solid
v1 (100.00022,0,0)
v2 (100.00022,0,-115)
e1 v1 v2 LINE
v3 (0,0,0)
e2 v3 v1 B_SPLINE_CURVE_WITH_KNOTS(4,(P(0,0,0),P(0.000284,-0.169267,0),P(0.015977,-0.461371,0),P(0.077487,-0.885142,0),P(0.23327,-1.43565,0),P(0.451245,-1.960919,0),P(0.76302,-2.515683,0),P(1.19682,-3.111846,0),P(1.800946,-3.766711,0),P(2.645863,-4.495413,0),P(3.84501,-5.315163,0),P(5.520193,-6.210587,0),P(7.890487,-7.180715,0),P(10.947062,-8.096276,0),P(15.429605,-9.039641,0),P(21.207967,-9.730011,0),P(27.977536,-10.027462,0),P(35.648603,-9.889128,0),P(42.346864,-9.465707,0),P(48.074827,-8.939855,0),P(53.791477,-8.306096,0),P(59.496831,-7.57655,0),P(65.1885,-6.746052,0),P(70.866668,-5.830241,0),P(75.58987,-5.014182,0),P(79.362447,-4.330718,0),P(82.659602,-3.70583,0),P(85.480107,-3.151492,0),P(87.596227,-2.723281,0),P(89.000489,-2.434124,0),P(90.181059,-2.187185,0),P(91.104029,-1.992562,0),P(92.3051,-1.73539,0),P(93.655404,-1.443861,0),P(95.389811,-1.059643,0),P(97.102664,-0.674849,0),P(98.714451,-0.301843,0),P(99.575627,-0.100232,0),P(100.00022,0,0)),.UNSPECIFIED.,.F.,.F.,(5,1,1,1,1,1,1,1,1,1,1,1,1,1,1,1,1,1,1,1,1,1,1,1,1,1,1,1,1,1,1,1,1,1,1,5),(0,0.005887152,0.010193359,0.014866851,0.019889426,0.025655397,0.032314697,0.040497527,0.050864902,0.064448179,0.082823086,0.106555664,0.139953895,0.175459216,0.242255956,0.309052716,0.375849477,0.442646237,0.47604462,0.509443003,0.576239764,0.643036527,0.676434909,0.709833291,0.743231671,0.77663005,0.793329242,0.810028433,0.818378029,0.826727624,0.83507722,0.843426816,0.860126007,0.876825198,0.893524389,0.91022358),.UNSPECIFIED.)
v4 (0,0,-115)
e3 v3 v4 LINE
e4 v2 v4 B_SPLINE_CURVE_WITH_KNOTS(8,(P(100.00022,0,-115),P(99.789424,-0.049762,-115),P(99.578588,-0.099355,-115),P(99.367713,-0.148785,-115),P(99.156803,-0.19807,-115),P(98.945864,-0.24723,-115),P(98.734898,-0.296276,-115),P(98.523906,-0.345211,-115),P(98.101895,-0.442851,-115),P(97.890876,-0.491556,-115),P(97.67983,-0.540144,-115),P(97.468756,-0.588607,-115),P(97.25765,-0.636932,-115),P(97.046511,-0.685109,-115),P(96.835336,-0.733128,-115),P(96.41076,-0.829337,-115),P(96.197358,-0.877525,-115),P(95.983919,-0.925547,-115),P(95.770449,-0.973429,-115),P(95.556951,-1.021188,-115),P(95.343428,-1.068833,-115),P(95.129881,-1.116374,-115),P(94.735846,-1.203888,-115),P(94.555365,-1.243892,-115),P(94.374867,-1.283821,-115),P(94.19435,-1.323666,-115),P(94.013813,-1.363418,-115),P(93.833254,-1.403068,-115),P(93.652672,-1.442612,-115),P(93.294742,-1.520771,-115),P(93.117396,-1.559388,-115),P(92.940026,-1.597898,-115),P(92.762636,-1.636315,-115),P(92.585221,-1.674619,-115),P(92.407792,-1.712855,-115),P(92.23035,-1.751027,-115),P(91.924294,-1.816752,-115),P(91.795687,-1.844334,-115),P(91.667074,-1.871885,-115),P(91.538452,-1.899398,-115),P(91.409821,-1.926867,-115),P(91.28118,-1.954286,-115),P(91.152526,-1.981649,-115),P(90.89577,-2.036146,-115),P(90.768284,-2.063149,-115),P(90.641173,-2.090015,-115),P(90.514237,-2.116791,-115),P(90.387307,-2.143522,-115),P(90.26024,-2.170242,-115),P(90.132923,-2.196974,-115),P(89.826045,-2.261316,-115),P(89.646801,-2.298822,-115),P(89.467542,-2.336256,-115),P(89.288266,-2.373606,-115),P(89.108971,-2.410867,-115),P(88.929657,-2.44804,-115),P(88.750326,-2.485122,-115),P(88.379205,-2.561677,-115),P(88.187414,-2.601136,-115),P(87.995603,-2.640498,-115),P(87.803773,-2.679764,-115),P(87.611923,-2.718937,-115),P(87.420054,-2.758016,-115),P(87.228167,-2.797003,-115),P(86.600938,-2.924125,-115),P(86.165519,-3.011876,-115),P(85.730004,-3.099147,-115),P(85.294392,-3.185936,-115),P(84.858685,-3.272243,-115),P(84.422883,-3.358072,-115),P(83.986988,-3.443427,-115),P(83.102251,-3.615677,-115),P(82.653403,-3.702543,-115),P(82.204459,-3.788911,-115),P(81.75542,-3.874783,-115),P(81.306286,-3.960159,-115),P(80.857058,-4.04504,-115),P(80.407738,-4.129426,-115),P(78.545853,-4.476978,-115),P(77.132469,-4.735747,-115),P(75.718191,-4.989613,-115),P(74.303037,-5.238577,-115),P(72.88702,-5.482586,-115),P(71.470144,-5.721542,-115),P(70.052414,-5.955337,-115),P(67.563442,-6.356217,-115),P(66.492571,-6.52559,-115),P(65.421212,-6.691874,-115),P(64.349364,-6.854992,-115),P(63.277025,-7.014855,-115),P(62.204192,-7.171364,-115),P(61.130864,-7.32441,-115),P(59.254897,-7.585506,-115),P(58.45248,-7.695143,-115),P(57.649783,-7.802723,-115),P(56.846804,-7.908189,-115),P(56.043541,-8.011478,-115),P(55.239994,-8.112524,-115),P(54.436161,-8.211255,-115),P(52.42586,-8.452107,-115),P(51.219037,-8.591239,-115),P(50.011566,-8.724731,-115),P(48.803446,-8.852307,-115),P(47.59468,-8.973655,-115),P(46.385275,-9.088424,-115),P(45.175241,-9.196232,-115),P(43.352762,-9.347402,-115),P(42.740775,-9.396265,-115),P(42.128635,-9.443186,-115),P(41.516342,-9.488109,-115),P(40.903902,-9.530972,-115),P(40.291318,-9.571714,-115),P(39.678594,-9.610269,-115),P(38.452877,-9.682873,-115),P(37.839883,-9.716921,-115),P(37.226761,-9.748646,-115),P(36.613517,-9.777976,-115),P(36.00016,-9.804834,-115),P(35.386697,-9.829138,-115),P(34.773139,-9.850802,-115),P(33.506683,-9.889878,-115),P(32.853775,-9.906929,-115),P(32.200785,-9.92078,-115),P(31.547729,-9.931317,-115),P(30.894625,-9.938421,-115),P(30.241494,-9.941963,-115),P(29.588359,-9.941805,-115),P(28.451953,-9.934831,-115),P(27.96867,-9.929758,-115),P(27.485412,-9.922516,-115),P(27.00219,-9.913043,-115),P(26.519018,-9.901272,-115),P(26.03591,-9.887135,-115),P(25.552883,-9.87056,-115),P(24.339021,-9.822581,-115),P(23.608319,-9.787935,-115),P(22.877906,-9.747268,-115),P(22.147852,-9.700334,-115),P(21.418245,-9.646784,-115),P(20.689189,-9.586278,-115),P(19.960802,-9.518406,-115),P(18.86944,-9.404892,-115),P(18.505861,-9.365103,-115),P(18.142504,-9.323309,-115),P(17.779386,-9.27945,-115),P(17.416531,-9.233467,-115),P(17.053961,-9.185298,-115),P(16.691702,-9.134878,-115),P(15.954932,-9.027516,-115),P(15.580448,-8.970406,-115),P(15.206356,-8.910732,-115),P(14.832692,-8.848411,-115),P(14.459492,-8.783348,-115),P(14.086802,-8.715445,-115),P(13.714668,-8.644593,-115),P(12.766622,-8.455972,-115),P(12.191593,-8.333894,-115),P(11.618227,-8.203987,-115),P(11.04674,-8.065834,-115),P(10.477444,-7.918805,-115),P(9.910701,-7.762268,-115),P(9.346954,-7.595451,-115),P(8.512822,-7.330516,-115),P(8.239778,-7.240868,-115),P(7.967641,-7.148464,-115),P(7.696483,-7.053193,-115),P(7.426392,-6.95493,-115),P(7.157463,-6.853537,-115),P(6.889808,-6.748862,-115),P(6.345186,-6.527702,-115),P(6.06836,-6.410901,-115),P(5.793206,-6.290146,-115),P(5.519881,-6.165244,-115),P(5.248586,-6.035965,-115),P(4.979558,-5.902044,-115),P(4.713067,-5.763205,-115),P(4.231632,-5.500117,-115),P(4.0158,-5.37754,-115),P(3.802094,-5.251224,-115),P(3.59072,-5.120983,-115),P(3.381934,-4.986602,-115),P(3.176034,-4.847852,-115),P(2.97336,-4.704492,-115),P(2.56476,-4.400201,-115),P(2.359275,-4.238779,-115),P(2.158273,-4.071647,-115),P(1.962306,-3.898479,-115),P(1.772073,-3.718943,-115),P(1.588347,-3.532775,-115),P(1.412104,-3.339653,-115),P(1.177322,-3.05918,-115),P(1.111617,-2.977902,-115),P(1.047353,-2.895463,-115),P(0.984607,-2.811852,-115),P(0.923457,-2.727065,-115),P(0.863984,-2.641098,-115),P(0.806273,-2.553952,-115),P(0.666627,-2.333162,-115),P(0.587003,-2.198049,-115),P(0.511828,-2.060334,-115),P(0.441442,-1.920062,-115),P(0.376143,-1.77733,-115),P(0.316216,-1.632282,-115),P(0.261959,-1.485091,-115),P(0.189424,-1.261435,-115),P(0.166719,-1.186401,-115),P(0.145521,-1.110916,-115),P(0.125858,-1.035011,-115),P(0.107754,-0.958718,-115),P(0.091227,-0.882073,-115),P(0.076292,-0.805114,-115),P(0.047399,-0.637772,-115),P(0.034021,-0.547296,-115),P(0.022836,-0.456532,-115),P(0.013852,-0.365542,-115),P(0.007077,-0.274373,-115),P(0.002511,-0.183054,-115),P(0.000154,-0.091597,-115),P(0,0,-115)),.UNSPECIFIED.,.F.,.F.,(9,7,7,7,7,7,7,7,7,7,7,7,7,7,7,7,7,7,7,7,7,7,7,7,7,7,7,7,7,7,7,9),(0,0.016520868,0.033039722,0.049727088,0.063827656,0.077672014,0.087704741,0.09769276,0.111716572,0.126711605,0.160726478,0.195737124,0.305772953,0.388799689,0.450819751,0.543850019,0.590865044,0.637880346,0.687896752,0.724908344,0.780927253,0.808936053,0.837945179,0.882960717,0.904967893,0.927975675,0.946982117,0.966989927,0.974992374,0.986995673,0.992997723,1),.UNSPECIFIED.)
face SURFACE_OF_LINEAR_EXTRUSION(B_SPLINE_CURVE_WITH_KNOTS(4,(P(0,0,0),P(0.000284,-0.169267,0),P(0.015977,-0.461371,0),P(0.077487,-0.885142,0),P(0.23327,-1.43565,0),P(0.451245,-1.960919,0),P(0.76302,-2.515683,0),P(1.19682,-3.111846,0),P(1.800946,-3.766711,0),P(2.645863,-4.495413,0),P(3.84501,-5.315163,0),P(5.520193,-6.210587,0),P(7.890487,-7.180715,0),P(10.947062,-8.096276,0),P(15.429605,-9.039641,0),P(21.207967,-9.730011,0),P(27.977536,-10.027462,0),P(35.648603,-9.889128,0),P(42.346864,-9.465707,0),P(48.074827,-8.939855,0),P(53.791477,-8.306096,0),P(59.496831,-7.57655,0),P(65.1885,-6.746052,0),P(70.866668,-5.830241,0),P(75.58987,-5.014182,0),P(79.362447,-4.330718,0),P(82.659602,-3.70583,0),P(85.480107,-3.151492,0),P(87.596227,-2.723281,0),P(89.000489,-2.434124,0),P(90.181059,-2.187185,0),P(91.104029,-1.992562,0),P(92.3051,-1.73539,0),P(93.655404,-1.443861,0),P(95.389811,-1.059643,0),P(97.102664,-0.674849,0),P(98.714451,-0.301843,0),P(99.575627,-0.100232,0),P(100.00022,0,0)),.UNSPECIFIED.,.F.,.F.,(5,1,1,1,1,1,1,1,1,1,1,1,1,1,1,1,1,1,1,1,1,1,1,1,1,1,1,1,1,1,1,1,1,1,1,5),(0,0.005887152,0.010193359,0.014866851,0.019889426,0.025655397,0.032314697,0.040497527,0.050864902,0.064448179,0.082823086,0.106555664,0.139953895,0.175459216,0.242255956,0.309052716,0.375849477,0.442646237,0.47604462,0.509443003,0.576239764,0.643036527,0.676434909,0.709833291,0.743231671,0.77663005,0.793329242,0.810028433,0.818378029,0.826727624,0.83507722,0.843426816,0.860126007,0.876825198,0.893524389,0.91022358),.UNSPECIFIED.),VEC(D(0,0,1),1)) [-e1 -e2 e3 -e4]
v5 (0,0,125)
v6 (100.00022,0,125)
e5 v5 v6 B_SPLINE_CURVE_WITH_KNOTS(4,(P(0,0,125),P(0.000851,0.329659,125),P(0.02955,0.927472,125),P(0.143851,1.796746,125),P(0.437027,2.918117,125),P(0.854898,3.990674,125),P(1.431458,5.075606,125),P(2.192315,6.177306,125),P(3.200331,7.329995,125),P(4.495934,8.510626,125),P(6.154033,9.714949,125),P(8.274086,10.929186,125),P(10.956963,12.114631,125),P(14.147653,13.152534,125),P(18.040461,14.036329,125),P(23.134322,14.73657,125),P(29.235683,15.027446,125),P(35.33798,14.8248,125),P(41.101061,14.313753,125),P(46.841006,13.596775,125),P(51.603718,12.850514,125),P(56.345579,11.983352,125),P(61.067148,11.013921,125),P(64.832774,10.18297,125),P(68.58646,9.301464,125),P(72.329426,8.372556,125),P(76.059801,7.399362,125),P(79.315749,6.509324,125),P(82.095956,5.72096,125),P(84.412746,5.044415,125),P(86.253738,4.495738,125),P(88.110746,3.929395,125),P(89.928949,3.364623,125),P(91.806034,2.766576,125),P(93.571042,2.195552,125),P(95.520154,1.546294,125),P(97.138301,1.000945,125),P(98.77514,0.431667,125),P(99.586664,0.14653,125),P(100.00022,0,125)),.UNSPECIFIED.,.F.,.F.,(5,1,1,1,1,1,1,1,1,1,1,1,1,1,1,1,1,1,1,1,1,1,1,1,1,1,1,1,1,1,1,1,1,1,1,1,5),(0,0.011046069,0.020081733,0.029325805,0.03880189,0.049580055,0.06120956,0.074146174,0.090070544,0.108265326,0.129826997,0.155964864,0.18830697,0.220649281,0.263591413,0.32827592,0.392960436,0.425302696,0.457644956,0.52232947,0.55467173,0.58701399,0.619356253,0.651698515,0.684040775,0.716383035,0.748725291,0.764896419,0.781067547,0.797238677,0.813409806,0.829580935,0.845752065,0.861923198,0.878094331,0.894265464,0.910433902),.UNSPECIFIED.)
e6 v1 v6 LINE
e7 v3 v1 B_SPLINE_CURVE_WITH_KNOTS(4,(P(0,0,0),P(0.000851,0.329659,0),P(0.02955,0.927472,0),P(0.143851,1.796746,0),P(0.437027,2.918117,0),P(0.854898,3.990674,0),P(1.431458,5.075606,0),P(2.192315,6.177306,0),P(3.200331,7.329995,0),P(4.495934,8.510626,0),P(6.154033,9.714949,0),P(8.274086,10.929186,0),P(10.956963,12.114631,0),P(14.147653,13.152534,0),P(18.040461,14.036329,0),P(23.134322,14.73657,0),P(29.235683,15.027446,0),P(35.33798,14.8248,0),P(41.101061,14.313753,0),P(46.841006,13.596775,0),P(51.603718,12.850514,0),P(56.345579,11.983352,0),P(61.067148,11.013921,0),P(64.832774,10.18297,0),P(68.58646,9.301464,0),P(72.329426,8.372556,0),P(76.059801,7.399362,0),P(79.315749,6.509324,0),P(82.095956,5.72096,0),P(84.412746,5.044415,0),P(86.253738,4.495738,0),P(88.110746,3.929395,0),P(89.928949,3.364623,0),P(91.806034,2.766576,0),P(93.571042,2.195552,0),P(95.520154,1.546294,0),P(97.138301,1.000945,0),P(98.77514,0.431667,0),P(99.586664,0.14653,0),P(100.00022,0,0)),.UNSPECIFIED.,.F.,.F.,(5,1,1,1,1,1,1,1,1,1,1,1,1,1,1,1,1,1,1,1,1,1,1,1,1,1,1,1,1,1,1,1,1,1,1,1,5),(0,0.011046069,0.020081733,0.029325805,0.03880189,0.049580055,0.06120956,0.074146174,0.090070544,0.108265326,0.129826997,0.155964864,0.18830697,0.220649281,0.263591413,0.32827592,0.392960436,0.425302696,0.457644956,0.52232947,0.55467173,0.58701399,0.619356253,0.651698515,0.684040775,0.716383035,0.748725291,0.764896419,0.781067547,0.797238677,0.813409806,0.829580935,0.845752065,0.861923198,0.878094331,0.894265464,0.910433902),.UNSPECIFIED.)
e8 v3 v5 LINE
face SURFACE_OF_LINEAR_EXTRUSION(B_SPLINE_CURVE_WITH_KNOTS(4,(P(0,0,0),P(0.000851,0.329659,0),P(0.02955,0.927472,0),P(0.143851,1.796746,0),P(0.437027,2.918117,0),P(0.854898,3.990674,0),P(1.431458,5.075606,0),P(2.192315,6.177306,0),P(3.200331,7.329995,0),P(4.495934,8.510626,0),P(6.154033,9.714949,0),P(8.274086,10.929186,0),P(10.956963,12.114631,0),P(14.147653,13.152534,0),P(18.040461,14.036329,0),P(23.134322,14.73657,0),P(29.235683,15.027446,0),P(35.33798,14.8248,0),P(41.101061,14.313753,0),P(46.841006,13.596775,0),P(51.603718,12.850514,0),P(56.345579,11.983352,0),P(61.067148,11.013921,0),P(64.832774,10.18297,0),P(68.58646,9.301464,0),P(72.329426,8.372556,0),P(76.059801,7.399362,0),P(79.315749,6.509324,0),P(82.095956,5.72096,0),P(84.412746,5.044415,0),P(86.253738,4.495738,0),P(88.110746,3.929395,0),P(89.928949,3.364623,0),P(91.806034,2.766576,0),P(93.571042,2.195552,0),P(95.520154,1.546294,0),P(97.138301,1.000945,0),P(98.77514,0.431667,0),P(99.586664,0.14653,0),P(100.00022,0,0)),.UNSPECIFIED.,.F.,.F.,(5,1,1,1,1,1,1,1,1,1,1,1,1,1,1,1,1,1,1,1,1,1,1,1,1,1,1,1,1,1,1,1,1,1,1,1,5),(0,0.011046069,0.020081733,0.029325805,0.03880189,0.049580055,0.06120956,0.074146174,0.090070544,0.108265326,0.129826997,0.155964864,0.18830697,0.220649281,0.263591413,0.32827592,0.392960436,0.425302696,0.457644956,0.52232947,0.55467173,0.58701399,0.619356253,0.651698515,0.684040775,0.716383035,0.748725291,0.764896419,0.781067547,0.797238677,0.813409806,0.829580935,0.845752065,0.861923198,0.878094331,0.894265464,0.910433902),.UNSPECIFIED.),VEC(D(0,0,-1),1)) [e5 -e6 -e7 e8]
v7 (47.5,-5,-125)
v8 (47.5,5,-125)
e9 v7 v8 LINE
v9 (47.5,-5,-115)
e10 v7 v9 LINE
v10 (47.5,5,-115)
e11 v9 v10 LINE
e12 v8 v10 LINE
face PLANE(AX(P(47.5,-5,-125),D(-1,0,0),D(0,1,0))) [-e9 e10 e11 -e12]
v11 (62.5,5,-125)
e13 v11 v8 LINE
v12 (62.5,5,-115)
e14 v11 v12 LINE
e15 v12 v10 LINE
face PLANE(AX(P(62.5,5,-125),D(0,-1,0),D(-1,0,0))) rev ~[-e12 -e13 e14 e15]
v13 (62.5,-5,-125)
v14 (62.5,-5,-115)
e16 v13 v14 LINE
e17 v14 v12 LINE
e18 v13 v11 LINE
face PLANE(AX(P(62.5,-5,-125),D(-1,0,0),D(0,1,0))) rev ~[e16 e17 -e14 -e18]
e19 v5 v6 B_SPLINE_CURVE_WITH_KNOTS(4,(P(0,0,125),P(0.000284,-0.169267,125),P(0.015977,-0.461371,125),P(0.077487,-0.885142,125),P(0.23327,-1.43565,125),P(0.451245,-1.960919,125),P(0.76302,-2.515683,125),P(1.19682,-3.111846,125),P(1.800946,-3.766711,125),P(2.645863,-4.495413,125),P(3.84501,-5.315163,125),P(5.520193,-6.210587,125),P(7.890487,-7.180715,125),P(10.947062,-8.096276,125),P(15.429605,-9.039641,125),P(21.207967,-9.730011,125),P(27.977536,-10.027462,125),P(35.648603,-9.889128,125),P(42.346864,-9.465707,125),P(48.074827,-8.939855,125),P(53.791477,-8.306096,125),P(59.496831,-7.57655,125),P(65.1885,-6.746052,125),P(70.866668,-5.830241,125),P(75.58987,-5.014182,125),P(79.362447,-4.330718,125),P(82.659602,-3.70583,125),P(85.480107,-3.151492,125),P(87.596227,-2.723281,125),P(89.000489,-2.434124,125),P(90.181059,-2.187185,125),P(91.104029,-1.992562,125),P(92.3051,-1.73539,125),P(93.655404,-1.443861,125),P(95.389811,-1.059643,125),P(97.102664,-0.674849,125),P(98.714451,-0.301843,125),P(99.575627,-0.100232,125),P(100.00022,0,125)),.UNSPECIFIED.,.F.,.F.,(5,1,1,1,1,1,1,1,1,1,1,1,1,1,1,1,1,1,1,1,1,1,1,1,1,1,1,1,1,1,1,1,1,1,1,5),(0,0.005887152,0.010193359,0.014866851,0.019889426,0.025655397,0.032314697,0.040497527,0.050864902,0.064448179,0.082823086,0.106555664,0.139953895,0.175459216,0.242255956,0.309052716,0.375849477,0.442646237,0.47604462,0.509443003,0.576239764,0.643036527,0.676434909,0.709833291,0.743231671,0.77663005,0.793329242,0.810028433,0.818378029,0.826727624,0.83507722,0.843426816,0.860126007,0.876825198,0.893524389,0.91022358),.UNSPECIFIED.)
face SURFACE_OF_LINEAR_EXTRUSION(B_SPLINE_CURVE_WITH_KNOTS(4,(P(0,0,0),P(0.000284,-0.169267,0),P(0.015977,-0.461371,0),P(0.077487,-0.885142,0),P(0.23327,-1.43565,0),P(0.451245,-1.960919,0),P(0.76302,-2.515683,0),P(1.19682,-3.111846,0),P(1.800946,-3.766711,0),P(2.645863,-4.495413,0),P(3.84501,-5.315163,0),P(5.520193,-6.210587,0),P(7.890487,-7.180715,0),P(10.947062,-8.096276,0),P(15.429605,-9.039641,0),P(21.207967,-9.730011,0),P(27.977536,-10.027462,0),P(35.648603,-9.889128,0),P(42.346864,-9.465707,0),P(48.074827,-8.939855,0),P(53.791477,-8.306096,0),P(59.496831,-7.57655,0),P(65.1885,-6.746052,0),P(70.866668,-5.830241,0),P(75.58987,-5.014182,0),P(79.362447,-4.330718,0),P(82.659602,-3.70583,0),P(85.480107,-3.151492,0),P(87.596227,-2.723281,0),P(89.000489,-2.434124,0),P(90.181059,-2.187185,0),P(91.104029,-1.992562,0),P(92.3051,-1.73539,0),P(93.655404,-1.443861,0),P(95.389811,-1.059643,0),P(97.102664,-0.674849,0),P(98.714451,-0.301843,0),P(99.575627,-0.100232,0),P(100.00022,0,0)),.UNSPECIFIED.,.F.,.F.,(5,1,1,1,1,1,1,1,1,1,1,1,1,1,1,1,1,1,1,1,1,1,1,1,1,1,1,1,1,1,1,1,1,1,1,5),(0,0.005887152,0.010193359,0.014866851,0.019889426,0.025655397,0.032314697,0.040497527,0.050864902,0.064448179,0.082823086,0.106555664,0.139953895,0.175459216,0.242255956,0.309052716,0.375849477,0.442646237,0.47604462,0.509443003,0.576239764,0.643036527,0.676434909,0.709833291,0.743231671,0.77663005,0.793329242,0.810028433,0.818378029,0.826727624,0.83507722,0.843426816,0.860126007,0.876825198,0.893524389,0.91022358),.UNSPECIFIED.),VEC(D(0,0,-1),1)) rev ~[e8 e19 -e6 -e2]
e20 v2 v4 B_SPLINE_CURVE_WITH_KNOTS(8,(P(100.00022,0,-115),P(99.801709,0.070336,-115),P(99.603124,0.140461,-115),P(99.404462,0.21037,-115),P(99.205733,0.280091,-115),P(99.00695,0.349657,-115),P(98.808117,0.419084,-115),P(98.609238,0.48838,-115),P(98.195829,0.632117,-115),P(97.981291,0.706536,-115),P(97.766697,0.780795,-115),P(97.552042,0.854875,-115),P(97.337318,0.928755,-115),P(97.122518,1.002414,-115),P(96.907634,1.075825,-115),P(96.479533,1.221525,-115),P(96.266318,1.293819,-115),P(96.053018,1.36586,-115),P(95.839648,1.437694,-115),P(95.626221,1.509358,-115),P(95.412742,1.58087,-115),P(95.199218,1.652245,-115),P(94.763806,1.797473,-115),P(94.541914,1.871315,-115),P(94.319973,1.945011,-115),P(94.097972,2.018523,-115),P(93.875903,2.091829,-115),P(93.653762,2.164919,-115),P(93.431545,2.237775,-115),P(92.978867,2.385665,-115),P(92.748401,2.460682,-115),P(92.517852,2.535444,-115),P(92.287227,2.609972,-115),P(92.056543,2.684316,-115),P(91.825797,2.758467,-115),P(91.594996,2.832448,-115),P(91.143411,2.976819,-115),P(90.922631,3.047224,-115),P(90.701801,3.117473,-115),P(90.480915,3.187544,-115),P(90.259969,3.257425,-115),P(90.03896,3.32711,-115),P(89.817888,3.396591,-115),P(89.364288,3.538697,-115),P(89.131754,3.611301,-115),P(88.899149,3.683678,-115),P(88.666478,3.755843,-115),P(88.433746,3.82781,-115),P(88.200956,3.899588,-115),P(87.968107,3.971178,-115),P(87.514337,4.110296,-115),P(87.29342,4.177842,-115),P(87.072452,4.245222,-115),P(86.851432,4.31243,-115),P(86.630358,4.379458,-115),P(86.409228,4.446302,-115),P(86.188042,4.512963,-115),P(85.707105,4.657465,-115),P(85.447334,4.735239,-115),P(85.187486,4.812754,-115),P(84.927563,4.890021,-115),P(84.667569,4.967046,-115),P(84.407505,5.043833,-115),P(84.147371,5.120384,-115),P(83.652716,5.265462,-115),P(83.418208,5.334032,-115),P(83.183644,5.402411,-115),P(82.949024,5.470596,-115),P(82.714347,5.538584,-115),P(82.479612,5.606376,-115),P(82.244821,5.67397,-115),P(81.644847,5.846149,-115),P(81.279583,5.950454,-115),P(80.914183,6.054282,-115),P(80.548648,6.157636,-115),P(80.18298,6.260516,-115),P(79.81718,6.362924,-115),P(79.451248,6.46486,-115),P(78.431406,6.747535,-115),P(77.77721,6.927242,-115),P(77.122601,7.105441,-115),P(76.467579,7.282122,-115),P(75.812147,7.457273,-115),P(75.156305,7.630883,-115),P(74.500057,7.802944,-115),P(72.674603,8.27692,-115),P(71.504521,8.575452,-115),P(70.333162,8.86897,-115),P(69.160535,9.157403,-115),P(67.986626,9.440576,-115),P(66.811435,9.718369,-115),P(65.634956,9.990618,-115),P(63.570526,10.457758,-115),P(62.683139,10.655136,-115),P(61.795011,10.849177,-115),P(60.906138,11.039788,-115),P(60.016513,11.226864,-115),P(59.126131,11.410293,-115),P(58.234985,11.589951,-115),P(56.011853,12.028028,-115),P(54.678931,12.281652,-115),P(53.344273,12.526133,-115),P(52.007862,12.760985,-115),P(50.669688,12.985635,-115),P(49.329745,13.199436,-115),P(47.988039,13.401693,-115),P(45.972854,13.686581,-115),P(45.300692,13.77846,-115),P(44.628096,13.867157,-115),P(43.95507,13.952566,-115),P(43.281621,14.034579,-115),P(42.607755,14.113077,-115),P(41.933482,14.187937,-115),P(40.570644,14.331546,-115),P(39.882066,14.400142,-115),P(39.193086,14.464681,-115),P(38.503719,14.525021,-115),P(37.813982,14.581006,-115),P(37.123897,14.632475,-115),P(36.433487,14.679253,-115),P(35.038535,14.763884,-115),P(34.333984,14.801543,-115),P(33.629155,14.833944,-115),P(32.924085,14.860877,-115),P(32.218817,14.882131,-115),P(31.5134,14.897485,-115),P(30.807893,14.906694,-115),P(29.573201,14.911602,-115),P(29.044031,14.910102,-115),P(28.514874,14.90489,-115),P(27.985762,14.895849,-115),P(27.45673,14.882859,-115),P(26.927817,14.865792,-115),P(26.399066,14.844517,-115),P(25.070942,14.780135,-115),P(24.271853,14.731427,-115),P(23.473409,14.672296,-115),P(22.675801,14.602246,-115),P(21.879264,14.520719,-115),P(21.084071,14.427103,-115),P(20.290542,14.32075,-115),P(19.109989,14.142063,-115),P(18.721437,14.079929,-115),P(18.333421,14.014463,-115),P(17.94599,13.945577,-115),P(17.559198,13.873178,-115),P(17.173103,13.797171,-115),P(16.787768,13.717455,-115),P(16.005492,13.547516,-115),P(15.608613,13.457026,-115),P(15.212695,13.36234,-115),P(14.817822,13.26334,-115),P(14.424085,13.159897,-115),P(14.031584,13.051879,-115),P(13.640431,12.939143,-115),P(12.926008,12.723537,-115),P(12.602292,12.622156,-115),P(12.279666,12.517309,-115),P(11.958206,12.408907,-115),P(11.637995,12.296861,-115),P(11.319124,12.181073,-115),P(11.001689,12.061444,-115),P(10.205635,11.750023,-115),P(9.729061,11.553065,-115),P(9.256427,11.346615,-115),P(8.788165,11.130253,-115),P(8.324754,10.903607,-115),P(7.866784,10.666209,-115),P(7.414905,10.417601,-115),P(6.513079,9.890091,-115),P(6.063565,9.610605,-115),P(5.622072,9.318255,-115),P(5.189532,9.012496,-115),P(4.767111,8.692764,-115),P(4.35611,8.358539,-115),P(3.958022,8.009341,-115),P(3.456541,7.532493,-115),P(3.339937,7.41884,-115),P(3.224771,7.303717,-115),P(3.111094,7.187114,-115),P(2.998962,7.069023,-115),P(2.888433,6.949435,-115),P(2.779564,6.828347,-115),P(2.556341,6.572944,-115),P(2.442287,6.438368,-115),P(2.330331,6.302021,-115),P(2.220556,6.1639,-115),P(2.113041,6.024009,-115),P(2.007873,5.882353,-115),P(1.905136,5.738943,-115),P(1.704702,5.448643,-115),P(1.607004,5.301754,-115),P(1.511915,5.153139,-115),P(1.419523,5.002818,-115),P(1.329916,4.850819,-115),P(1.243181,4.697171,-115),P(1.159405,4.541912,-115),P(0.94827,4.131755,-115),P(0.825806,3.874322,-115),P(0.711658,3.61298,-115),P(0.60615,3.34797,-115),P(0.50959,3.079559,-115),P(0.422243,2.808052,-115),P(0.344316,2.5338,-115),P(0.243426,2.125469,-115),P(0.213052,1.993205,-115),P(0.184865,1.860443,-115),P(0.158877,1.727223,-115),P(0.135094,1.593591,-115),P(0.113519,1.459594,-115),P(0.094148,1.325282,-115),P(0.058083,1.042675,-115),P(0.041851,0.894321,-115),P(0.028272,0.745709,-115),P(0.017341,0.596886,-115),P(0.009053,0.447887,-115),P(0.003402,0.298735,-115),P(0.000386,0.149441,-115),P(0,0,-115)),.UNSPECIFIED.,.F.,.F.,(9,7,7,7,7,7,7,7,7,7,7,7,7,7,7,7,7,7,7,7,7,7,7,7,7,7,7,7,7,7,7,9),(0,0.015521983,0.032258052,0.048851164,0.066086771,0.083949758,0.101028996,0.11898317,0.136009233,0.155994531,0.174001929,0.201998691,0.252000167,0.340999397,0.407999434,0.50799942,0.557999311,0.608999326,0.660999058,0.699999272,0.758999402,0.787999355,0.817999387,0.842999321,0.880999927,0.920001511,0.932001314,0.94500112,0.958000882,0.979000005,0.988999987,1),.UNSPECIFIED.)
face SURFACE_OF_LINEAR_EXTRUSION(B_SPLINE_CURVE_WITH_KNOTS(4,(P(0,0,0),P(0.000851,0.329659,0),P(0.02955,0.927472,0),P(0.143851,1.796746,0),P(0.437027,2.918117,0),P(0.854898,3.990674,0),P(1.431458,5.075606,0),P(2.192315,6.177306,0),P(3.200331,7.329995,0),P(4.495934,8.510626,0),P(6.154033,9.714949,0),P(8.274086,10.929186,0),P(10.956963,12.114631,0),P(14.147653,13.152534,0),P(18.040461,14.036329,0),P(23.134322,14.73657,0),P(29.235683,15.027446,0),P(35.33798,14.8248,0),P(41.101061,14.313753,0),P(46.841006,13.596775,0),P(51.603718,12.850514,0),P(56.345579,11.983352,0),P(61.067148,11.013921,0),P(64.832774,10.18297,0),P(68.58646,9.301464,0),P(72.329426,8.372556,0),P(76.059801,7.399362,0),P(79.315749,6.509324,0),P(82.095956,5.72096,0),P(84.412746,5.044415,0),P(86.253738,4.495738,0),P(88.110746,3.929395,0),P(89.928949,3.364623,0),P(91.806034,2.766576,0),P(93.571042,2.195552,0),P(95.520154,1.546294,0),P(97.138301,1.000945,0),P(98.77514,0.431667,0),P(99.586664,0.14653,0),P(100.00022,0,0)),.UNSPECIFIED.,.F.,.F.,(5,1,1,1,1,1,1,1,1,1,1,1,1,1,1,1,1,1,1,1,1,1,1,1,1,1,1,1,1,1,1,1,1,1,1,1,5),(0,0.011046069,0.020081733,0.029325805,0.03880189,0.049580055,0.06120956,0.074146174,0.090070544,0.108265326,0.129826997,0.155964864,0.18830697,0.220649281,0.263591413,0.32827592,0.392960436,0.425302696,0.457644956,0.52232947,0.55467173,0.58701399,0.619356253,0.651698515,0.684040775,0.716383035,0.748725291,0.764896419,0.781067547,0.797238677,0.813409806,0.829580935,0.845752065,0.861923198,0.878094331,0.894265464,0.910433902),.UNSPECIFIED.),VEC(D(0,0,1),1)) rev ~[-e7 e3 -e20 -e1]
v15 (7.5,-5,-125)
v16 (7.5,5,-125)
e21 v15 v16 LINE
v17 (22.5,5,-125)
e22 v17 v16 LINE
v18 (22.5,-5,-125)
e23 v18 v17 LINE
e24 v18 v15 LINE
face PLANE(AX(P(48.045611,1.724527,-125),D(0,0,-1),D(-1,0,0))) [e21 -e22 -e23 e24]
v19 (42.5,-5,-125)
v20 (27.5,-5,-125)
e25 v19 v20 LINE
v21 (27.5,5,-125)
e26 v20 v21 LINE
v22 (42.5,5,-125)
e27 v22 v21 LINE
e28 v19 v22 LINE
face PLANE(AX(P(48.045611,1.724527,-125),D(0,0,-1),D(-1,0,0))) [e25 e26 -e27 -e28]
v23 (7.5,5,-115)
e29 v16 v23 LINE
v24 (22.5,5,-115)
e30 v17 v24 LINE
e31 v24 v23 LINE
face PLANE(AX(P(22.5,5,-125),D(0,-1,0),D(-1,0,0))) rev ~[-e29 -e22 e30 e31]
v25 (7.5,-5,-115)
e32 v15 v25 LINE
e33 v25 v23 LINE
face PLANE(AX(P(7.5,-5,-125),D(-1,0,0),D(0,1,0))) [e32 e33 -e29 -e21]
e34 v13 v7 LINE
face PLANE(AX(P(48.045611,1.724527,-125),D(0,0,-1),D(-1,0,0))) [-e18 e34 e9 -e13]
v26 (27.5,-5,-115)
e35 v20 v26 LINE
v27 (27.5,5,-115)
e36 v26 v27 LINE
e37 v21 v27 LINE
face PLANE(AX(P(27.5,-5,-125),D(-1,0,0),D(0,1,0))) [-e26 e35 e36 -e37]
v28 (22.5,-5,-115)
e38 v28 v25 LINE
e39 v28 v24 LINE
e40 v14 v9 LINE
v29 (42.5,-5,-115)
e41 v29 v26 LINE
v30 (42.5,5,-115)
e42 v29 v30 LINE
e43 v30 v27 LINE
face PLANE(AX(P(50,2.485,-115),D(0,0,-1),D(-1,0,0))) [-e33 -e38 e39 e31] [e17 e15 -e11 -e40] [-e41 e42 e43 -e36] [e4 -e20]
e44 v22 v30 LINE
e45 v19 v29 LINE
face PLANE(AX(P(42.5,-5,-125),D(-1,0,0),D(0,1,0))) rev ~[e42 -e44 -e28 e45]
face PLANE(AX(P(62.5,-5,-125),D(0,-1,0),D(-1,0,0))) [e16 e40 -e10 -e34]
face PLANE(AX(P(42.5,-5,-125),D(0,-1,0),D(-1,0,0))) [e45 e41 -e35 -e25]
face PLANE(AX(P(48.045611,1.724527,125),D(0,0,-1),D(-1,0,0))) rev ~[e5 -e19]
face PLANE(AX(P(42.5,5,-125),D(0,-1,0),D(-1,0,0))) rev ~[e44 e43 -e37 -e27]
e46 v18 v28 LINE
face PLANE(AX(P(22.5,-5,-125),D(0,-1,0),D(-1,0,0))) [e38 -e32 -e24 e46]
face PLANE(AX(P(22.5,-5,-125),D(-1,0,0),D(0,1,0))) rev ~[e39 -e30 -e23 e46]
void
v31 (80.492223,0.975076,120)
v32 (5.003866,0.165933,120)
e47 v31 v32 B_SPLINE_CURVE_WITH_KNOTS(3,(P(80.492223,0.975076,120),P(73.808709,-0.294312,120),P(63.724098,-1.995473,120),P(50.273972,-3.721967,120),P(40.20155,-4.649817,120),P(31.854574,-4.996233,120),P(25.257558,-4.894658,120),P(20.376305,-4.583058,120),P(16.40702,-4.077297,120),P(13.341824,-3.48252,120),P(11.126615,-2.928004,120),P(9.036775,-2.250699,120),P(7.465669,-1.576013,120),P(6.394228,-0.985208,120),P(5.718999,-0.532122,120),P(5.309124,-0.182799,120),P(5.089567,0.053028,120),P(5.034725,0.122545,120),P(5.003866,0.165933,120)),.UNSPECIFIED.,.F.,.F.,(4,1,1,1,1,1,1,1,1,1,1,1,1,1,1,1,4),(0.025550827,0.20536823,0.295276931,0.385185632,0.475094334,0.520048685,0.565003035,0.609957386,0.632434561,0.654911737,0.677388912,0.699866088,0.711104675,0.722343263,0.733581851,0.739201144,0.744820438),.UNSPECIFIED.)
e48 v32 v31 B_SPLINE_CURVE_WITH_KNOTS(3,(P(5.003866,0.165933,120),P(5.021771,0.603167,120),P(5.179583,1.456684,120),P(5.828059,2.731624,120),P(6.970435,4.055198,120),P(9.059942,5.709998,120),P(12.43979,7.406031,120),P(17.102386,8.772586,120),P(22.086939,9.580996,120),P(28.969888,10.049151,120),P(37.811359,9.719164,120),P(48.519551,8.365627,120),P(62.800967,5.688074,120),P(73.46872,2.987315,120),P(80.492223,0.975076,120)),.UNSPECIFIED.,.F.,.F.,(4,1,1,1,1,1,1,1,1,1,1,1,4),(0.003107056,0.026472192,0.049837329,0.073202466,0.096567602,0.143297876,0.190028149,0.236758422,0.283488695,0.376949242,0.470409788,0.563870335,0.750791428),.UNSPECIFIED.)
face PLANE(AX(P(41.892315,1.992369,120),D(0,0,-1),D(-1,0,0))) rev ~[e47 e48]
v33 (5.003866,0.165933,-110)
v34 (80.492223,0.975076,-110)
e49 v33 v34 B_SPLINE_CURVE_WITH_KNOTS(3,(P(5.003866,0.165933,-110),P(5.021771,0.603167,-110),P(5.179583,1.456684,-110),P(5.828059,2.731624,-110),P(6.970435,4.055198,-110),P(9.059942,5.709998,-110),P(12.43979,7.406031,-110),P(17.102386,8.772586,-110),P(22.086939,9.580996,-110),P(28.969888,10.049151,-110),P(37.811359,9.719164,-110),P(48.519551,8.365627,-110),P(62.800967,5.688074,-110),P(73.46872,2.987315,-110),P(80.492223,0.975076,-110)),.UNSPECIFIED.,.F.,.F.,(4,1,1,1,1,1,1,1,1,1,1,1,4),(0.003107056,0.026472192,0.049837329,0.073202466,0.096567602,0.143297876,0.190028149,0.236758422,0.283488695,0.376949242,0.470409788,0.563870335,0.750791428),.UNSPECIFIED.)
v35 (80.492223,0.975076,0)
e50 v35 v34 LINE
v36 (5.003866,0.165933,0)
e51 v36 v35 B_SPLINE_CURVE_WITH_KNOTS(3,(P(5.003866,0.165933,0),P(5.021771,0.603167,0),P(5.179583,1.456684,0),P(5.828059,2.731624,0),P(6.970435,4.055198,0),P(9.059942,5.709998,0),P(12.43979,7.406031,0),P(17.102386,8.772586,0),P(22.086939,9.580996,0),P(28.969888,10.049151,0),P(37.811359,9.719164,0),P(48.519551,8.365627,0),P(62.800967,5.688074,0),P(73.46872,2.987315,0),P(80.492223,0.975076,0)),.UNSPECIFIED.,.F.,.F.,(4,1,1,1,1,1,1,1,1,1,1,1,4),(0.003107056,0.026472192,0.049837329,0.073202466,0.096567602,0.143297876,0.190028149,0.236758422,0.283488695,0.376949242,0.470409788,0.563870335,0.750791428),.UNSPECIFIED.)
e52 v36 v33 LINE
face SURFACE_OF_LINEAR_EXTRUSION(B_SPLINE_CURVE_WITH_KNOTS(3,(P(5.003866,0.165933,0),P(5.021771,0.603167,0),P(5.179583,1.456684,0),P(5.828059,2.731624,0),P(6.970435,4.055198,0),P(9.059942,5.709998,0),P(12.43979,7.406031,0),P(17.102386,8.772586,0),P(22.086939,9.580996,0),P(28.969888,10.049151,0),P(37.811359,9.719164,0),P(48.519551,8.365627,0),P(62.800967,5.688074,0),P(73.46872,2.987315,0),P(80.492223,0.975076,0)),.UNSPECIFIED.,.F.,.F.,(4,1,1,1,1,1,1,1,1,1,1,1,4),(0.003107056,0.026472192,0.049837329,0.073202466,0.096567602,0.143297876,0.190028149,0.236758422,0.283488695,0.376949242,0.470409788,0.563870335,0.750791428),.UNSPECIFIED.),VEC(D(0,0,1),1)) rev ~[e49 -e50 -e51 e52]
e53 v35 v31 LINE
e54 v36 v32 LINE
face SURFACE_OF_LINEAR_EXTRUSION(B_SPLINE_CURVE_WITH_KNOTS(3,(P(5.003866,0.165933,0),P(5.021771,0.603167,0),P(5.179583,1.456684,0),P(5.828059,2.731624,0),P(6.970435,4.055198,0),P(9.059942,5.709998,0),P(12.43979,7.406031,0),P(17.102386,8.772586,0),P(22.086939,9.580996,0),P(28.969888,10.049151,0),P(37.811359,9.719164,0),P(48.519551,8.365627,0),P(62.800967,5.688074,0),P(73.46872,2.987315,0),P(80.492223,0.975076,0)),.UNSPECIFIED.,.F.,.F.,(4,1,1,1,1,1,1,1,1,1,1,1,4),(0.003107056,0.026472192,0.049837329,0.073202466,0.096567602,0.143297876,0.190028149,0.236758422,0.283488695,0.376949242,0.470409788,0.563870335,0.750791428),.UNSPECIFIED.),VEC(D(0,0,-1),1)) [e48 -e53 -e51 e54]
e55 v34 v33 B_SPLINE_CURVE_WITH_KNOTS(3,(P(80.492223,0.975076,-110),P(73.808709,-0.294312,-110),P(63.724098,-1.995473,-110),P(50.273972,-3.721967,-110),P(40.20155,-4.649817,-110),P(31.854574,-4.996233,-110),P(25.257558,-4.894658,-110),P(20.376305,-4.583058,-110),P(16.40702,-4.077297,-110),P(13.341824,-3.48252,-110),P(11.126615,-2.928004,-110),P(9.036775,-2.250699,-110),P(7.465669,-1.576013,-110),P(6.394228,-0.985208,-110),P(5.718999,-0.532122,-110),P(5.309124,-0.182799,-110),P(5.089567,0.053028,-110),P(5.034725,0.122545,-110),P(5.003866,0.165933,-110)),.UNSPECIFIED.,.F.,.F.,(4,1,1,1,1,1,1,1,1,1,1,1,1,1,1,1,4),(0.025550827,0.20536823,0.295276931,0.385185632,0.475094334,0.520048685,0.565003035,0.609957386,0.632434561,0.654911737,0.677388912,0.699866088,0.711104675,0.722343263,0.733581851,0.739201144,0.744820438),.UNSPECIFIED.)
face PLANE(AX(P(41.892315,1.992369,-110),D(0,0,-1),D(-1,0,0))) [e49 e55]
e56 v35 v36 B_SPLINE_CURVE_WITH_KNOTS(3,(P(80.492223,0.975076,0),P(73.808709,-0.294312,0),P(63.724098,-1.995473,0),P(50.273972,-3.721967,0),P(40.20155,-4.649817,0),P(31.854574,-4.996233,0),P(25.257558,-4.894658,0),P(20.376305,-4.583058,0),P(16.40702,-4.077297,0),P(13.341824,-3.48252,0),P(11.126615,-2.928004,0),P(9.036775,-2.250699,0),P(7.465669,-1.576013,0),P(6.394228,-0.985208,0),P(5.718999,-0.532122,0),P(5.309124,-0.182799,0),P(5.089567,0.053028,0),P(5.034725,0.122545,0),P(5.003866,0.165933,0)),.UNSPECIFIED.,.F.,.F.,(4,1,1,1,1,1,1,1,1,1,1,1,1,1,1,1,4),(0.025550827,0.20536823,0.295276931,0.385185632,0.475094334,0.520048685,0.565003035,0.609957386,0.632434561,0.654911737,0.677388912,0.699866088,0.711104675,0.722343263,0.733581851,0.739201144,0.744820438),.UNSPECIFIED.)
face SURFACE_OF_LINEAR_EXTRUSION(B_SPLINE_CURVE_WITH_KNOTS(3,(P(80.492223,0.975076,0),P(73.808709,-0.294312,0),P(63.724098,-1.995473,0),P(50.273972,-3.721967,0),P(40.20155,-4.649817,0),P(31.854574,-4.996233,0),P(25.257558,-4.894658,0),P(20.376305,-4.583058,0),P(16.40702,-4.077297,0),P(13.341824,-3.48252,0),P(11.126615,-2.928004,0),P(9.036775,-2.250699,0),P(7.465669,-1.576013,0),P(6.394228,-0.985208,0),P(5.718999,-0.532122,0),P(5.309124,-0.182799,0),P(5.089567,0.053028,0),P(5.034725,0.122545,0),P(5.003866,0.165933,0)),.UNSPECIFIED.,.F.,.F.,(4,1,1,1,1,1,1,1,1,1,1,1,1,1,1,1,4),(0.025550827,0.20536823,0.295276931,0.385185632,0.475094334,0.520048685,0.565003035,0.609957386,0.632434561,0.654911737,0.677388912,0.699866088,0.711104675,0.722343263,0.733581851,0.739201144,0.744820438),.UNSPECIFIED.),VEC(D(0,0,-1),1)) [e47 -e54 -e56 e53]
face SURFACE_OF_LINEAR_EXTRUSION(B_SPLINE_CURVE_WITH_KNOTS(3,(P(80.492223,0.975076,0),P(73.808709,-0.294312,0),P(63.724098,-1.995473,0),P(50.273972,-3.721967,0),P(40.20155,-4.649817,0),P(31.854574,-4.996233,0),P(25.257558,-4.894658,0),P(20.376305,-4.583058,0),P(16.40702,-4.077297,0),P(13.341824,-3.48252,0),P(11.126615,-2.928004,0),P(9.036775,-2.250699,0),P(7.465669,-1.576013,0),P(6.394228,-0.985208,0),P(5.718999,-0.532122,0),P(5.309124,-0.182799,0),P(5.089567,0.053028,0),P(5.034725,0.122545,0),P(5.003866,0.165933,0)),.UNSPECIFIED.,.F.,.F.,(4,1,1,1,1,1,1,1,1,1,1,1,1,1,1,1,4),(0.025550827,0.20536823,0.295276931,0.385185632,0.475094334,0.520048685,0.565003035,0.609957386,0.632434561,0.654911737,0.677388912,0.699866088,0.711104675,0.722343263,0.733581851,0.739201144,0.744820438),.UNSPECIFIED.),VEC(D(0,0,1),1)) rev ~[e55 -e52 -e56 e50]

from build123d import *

# Parameters (mm, degrees)
BOSS_EXTRUDE1_DEPTH     = 125
CUT_EXTRUDE1_DEPTH      = 120
CUT_EXTRUDE1_DEPTH_BACK = 110
SKETCH7_OUTSIDE_W       = 156.08
SKETCH7_OUTSIDE_H       = 80.93
SKETCH7_OUTSIDE_W_2     = 15
SKETCH7_OUTSIDE_H_2     = 10
CUT_EXTRUDE2_DEPTH      = 10


with BuildPart() as part:
    # Sketch1 → Boss-Extrude1 (new body, symmetric)
    with BuildSketch(Plane.XY):
        with BuildLine():
            add(Edge.make_bspline(
                [(0, 0), (0.000850995, 0.329659199), (0.029549865, 0.927472015), (0.14385133, 1.796745902), (0.437026819, 2.918116545), (0.854897816, 3.99067399), (1.431457873, 5.075606208), (2.192315162, 6.177305776), (3.200330795, 7.329994922), (4.495933807, 8.510625759), (6.154032841, 9.714948919), (8.274086435, 10.929186229), (10.956963281, 12.114631433), (14.147653492, 13.152534318), (18.040460609, 14.036328853), (23.13432232, 14.736569605), (29.235682959, 15.027445823), (35.337980191, 14.824799668), (41.101061226, 14.313753112), (46.84100573, 13.596774566), (51.603718071, 12.850513756), (56.345578755, 11.983351698), (61.067148387, 11.013921336), (64.832774323, 10.182970339), (68.586460194, 9.301464098), (72.329426272, 8.372556112), (76.059801155, 7.399362237), (79.315748534, 6.509324276), (82.095955547, 5.720960272), (84.412746103, 5.044415193), (86.253737616, 4.495737821), (88.110746108, 3.929395104), (89.928948501, 3.364622885), (91.806033909, 2.766575591), (93.571042413, 2.195551738), (95.520153622, 1.546294126), (97.13830136, 1.000944859), (98.775140125, 0.431667147), (99.586664269, 0.14652965), (100.000220498, 0)],
                knots=[0, 0, 0, 0, 0, 0.011046069, 0.020081733, 0.029325805, 0.03880189, 0.049580055, 0.06120956, 0.074146174, 0.090070544, 0.108265326, 0.129826997, 0.155964864, 0.18830697, 0.220649281, 0.263591413, 0.32827592, 0.392960436, 0.425302696, 0.457644956, 0.52232947, 0.55467173, 0.58701399, 0.619356253, 0.651698515, 0.684040775, 0.716383035, 0.748725291, 0.764896419, 0.781067547, 0.797238677, 0.813409806, 0.829580935, 0.845752065, 0.861923198, 0.878094331, 0.894265464, 0.910433902, 0.910433902, 0.910433902, 0.910433902, 0.910433902], degree=4))
            add(Edge.make_bspline(
                [(0, 0), (0.000283694, -0.169267254), (0.015976794, -0.461371136), (0.077487025, -0.88514164), (0.233270026, -1.435649885), (0.451244669, -1.960918505), (0.763020391, -2.515682909), (1.196819683, -3.111846412), (1.800946429, -3.766711239), (2.645862845, -4.495413172), (3.845009807, -5.315163118), (5.520192869, -6.210587445), (7.890487327, -7.180714875), (10.947062049, -8.096276481), (15.429604607, -9.039640979), (21.207967366, -9.730011133), (27.977535992, -10.02746215), (35.648602876, -9.889128299), (42.346864335, -9.465706657), (48.074827103, -8.93985543), (53.791477179, -8.306095929), (59.496830619, -7.576550222), (65.188499989, -6.746051578), (70.86666832, -5.830240622), (75.589869863, -5.014181774), (79.362447213, -4.33071773), (82.659602016, -3.705830248), (85.480106996, -3.151491524), (87.596226543, -2.723280533), (89.000489113, -2.434123885), (90.181059485, -2.187185496), (91.104029231, -1.992562417), (92.305099816, -1.735390328), (93.655404022, -1.443860687), (95.389810689, -1.059643077), (97.102663756, -0.674849293), (98.714450572, -0.301843412), (99.575627153, -0.100232022), (100.000220498, 0)],
                knots=[0, 0, 0, 0, 0, 0.005887152, 0.010193359, 0.014866851, 0.019889426, 0.025655397, 0.032314697, 0.040497527, 0.050864902, 0.064448179, 0.082823086, 0.106555664, 0.139953895, 0.175459216, 0.242255956, 0.309052716, 0.375849477, 0.442646237, 0.47604462, 0.509443003, 0.576239764, 0.643036527, 0.676434909, 0.709833291, 0.743231671, 0.77663005, 0.793329242, 0.810028433, 0.818378029, 0.826727624, 0.83507722, 0.843426816, 0.860126007, 0.876825198, 0.893524389, 0.91022358, 0.91022358, 0.91022358, 0.91022358, 0.91022358], degree=4))
        make_face()
    extrude(amount=BOSS_EXTRUDE1_DEPTH, both=True)

    # Sketch6 → Cut-Extrude1 (cut, two sides)
    with BuildSketch(Plane.XY) as cut_extrude1_sk:
        with BuildLine():
            add(Edge.make_bspline(
                [(5.003866411, 0.16593331), (5.021771107, 0.603167174), (5.179582681, 1.45668418), (5.828059264, 2.731623867), (6.970434665, 4.055197794), (9.059941641, 5.70999826), (12.439790451, 7.406031049), (17.102385774, 8.772586441), (22.086939339, 9.580996278), (28.969887571, 10.04915127), (37.811358565, 9.719164197), (48.519550578, 8.365627259), (62.800967104, 5.688073766), (73.468720144, 2.987314718), (80.492223408, 0.975075783)],
                knots=[0.003107056, 0.003107056, 0.003107056, 0.003107056, 0.026472192, 0.049837329, 0.073202466, 0.096567602, 0.143297876, 0.190028149, 0.236758422, 0.283488695, 0.376949242, 0.470409788, 0.563870335, 0.750791428, 0.750791428, 0.750791428, 0.750791428], degree=3))
            add(Edge.make_bspline(
                [(80.492223408, 0.975075783), (73.808709309, -0.294311553), (63.724097701, -1.995472923), (50.2739718, -3.721966825), (40.201550005, -4.64981718), (31.854573956, -4.99623266), (25.257558055, -4.894657534), (20.376304938, -4.583057975), (16.407020376, -4.077297068), (13.341823588, -3.482519629), (11.126614852, -2.928004065), (9.036775347, -2.250698534), (7.465669402, -1.576012545), (6.39422808, -0.985208256), (5.718999313, -0.532122097), (5.309123649, -0.182799424), (5.089567118, 0.053028449), (5.034725373, 0.122545069), (5.003866411, 0.16593331)],
                knots=[0.025550827, 0.025550827, 0.025550827, 0.025550827, 0.20536823, 0.295276931, 0.385185632, 0.475094334, 0.520048685, 0.565003035, 0.609957386, 0.632434561, 0.654911737, 0.677388912, 0.699866088, 0.711104675, 0.722343263, 0.733581851, 0.739201144, 0.744820438, 0.744820438, 0.744820438, 0.744820438], degree=3))
        make_face()
    extrude(amount=CUT_EXTRUDE1_DEPTH, mode=Mode.SUBTRACT)
    extrude(cut_extrude1_sk.sketch, amount=-CUT_EXTRUDE1_DEPTH_BACK, mode=Mode.SUBTRACT)

    # Sketch7 outside → Cut-Extrude2 (cut)
    with BuildSketch(Plane(origin=(0, 0, -125), x_dir=(-1, 0, 0), z_dir=(0, 0, -1))):
        with Locations((-50, 2.485)):
            Rectangle(SKETCH7_OUTSIDE_W, SKETCH7_OUTSIDE_H)
        with Locations((-15, 0)):
            Rectangle(SKETCH7_OUTSIDE_W_2, SKETCH7_OUTSIDE_H_2, mode=Mode.SUBTRACT)
        with Locations((-35, 0)):
            Rectangle(SKETCH7_OUTSIDE_W_2, SKETCH7_OUTSIDE_H_2, mode=Mode.SUBTRACT)
        with Locations((-55, 0)):
            Rectangle(SKETCH7_OUTSIDE_W_2, SKETCH7_OUTSIDE_H_2, mode=Mode.SUBTRACT)
    extrude(amount=-CUT_EXTRUDE2_DEPTH, mode=Mode.SUBTRACT)


solid = part.part
